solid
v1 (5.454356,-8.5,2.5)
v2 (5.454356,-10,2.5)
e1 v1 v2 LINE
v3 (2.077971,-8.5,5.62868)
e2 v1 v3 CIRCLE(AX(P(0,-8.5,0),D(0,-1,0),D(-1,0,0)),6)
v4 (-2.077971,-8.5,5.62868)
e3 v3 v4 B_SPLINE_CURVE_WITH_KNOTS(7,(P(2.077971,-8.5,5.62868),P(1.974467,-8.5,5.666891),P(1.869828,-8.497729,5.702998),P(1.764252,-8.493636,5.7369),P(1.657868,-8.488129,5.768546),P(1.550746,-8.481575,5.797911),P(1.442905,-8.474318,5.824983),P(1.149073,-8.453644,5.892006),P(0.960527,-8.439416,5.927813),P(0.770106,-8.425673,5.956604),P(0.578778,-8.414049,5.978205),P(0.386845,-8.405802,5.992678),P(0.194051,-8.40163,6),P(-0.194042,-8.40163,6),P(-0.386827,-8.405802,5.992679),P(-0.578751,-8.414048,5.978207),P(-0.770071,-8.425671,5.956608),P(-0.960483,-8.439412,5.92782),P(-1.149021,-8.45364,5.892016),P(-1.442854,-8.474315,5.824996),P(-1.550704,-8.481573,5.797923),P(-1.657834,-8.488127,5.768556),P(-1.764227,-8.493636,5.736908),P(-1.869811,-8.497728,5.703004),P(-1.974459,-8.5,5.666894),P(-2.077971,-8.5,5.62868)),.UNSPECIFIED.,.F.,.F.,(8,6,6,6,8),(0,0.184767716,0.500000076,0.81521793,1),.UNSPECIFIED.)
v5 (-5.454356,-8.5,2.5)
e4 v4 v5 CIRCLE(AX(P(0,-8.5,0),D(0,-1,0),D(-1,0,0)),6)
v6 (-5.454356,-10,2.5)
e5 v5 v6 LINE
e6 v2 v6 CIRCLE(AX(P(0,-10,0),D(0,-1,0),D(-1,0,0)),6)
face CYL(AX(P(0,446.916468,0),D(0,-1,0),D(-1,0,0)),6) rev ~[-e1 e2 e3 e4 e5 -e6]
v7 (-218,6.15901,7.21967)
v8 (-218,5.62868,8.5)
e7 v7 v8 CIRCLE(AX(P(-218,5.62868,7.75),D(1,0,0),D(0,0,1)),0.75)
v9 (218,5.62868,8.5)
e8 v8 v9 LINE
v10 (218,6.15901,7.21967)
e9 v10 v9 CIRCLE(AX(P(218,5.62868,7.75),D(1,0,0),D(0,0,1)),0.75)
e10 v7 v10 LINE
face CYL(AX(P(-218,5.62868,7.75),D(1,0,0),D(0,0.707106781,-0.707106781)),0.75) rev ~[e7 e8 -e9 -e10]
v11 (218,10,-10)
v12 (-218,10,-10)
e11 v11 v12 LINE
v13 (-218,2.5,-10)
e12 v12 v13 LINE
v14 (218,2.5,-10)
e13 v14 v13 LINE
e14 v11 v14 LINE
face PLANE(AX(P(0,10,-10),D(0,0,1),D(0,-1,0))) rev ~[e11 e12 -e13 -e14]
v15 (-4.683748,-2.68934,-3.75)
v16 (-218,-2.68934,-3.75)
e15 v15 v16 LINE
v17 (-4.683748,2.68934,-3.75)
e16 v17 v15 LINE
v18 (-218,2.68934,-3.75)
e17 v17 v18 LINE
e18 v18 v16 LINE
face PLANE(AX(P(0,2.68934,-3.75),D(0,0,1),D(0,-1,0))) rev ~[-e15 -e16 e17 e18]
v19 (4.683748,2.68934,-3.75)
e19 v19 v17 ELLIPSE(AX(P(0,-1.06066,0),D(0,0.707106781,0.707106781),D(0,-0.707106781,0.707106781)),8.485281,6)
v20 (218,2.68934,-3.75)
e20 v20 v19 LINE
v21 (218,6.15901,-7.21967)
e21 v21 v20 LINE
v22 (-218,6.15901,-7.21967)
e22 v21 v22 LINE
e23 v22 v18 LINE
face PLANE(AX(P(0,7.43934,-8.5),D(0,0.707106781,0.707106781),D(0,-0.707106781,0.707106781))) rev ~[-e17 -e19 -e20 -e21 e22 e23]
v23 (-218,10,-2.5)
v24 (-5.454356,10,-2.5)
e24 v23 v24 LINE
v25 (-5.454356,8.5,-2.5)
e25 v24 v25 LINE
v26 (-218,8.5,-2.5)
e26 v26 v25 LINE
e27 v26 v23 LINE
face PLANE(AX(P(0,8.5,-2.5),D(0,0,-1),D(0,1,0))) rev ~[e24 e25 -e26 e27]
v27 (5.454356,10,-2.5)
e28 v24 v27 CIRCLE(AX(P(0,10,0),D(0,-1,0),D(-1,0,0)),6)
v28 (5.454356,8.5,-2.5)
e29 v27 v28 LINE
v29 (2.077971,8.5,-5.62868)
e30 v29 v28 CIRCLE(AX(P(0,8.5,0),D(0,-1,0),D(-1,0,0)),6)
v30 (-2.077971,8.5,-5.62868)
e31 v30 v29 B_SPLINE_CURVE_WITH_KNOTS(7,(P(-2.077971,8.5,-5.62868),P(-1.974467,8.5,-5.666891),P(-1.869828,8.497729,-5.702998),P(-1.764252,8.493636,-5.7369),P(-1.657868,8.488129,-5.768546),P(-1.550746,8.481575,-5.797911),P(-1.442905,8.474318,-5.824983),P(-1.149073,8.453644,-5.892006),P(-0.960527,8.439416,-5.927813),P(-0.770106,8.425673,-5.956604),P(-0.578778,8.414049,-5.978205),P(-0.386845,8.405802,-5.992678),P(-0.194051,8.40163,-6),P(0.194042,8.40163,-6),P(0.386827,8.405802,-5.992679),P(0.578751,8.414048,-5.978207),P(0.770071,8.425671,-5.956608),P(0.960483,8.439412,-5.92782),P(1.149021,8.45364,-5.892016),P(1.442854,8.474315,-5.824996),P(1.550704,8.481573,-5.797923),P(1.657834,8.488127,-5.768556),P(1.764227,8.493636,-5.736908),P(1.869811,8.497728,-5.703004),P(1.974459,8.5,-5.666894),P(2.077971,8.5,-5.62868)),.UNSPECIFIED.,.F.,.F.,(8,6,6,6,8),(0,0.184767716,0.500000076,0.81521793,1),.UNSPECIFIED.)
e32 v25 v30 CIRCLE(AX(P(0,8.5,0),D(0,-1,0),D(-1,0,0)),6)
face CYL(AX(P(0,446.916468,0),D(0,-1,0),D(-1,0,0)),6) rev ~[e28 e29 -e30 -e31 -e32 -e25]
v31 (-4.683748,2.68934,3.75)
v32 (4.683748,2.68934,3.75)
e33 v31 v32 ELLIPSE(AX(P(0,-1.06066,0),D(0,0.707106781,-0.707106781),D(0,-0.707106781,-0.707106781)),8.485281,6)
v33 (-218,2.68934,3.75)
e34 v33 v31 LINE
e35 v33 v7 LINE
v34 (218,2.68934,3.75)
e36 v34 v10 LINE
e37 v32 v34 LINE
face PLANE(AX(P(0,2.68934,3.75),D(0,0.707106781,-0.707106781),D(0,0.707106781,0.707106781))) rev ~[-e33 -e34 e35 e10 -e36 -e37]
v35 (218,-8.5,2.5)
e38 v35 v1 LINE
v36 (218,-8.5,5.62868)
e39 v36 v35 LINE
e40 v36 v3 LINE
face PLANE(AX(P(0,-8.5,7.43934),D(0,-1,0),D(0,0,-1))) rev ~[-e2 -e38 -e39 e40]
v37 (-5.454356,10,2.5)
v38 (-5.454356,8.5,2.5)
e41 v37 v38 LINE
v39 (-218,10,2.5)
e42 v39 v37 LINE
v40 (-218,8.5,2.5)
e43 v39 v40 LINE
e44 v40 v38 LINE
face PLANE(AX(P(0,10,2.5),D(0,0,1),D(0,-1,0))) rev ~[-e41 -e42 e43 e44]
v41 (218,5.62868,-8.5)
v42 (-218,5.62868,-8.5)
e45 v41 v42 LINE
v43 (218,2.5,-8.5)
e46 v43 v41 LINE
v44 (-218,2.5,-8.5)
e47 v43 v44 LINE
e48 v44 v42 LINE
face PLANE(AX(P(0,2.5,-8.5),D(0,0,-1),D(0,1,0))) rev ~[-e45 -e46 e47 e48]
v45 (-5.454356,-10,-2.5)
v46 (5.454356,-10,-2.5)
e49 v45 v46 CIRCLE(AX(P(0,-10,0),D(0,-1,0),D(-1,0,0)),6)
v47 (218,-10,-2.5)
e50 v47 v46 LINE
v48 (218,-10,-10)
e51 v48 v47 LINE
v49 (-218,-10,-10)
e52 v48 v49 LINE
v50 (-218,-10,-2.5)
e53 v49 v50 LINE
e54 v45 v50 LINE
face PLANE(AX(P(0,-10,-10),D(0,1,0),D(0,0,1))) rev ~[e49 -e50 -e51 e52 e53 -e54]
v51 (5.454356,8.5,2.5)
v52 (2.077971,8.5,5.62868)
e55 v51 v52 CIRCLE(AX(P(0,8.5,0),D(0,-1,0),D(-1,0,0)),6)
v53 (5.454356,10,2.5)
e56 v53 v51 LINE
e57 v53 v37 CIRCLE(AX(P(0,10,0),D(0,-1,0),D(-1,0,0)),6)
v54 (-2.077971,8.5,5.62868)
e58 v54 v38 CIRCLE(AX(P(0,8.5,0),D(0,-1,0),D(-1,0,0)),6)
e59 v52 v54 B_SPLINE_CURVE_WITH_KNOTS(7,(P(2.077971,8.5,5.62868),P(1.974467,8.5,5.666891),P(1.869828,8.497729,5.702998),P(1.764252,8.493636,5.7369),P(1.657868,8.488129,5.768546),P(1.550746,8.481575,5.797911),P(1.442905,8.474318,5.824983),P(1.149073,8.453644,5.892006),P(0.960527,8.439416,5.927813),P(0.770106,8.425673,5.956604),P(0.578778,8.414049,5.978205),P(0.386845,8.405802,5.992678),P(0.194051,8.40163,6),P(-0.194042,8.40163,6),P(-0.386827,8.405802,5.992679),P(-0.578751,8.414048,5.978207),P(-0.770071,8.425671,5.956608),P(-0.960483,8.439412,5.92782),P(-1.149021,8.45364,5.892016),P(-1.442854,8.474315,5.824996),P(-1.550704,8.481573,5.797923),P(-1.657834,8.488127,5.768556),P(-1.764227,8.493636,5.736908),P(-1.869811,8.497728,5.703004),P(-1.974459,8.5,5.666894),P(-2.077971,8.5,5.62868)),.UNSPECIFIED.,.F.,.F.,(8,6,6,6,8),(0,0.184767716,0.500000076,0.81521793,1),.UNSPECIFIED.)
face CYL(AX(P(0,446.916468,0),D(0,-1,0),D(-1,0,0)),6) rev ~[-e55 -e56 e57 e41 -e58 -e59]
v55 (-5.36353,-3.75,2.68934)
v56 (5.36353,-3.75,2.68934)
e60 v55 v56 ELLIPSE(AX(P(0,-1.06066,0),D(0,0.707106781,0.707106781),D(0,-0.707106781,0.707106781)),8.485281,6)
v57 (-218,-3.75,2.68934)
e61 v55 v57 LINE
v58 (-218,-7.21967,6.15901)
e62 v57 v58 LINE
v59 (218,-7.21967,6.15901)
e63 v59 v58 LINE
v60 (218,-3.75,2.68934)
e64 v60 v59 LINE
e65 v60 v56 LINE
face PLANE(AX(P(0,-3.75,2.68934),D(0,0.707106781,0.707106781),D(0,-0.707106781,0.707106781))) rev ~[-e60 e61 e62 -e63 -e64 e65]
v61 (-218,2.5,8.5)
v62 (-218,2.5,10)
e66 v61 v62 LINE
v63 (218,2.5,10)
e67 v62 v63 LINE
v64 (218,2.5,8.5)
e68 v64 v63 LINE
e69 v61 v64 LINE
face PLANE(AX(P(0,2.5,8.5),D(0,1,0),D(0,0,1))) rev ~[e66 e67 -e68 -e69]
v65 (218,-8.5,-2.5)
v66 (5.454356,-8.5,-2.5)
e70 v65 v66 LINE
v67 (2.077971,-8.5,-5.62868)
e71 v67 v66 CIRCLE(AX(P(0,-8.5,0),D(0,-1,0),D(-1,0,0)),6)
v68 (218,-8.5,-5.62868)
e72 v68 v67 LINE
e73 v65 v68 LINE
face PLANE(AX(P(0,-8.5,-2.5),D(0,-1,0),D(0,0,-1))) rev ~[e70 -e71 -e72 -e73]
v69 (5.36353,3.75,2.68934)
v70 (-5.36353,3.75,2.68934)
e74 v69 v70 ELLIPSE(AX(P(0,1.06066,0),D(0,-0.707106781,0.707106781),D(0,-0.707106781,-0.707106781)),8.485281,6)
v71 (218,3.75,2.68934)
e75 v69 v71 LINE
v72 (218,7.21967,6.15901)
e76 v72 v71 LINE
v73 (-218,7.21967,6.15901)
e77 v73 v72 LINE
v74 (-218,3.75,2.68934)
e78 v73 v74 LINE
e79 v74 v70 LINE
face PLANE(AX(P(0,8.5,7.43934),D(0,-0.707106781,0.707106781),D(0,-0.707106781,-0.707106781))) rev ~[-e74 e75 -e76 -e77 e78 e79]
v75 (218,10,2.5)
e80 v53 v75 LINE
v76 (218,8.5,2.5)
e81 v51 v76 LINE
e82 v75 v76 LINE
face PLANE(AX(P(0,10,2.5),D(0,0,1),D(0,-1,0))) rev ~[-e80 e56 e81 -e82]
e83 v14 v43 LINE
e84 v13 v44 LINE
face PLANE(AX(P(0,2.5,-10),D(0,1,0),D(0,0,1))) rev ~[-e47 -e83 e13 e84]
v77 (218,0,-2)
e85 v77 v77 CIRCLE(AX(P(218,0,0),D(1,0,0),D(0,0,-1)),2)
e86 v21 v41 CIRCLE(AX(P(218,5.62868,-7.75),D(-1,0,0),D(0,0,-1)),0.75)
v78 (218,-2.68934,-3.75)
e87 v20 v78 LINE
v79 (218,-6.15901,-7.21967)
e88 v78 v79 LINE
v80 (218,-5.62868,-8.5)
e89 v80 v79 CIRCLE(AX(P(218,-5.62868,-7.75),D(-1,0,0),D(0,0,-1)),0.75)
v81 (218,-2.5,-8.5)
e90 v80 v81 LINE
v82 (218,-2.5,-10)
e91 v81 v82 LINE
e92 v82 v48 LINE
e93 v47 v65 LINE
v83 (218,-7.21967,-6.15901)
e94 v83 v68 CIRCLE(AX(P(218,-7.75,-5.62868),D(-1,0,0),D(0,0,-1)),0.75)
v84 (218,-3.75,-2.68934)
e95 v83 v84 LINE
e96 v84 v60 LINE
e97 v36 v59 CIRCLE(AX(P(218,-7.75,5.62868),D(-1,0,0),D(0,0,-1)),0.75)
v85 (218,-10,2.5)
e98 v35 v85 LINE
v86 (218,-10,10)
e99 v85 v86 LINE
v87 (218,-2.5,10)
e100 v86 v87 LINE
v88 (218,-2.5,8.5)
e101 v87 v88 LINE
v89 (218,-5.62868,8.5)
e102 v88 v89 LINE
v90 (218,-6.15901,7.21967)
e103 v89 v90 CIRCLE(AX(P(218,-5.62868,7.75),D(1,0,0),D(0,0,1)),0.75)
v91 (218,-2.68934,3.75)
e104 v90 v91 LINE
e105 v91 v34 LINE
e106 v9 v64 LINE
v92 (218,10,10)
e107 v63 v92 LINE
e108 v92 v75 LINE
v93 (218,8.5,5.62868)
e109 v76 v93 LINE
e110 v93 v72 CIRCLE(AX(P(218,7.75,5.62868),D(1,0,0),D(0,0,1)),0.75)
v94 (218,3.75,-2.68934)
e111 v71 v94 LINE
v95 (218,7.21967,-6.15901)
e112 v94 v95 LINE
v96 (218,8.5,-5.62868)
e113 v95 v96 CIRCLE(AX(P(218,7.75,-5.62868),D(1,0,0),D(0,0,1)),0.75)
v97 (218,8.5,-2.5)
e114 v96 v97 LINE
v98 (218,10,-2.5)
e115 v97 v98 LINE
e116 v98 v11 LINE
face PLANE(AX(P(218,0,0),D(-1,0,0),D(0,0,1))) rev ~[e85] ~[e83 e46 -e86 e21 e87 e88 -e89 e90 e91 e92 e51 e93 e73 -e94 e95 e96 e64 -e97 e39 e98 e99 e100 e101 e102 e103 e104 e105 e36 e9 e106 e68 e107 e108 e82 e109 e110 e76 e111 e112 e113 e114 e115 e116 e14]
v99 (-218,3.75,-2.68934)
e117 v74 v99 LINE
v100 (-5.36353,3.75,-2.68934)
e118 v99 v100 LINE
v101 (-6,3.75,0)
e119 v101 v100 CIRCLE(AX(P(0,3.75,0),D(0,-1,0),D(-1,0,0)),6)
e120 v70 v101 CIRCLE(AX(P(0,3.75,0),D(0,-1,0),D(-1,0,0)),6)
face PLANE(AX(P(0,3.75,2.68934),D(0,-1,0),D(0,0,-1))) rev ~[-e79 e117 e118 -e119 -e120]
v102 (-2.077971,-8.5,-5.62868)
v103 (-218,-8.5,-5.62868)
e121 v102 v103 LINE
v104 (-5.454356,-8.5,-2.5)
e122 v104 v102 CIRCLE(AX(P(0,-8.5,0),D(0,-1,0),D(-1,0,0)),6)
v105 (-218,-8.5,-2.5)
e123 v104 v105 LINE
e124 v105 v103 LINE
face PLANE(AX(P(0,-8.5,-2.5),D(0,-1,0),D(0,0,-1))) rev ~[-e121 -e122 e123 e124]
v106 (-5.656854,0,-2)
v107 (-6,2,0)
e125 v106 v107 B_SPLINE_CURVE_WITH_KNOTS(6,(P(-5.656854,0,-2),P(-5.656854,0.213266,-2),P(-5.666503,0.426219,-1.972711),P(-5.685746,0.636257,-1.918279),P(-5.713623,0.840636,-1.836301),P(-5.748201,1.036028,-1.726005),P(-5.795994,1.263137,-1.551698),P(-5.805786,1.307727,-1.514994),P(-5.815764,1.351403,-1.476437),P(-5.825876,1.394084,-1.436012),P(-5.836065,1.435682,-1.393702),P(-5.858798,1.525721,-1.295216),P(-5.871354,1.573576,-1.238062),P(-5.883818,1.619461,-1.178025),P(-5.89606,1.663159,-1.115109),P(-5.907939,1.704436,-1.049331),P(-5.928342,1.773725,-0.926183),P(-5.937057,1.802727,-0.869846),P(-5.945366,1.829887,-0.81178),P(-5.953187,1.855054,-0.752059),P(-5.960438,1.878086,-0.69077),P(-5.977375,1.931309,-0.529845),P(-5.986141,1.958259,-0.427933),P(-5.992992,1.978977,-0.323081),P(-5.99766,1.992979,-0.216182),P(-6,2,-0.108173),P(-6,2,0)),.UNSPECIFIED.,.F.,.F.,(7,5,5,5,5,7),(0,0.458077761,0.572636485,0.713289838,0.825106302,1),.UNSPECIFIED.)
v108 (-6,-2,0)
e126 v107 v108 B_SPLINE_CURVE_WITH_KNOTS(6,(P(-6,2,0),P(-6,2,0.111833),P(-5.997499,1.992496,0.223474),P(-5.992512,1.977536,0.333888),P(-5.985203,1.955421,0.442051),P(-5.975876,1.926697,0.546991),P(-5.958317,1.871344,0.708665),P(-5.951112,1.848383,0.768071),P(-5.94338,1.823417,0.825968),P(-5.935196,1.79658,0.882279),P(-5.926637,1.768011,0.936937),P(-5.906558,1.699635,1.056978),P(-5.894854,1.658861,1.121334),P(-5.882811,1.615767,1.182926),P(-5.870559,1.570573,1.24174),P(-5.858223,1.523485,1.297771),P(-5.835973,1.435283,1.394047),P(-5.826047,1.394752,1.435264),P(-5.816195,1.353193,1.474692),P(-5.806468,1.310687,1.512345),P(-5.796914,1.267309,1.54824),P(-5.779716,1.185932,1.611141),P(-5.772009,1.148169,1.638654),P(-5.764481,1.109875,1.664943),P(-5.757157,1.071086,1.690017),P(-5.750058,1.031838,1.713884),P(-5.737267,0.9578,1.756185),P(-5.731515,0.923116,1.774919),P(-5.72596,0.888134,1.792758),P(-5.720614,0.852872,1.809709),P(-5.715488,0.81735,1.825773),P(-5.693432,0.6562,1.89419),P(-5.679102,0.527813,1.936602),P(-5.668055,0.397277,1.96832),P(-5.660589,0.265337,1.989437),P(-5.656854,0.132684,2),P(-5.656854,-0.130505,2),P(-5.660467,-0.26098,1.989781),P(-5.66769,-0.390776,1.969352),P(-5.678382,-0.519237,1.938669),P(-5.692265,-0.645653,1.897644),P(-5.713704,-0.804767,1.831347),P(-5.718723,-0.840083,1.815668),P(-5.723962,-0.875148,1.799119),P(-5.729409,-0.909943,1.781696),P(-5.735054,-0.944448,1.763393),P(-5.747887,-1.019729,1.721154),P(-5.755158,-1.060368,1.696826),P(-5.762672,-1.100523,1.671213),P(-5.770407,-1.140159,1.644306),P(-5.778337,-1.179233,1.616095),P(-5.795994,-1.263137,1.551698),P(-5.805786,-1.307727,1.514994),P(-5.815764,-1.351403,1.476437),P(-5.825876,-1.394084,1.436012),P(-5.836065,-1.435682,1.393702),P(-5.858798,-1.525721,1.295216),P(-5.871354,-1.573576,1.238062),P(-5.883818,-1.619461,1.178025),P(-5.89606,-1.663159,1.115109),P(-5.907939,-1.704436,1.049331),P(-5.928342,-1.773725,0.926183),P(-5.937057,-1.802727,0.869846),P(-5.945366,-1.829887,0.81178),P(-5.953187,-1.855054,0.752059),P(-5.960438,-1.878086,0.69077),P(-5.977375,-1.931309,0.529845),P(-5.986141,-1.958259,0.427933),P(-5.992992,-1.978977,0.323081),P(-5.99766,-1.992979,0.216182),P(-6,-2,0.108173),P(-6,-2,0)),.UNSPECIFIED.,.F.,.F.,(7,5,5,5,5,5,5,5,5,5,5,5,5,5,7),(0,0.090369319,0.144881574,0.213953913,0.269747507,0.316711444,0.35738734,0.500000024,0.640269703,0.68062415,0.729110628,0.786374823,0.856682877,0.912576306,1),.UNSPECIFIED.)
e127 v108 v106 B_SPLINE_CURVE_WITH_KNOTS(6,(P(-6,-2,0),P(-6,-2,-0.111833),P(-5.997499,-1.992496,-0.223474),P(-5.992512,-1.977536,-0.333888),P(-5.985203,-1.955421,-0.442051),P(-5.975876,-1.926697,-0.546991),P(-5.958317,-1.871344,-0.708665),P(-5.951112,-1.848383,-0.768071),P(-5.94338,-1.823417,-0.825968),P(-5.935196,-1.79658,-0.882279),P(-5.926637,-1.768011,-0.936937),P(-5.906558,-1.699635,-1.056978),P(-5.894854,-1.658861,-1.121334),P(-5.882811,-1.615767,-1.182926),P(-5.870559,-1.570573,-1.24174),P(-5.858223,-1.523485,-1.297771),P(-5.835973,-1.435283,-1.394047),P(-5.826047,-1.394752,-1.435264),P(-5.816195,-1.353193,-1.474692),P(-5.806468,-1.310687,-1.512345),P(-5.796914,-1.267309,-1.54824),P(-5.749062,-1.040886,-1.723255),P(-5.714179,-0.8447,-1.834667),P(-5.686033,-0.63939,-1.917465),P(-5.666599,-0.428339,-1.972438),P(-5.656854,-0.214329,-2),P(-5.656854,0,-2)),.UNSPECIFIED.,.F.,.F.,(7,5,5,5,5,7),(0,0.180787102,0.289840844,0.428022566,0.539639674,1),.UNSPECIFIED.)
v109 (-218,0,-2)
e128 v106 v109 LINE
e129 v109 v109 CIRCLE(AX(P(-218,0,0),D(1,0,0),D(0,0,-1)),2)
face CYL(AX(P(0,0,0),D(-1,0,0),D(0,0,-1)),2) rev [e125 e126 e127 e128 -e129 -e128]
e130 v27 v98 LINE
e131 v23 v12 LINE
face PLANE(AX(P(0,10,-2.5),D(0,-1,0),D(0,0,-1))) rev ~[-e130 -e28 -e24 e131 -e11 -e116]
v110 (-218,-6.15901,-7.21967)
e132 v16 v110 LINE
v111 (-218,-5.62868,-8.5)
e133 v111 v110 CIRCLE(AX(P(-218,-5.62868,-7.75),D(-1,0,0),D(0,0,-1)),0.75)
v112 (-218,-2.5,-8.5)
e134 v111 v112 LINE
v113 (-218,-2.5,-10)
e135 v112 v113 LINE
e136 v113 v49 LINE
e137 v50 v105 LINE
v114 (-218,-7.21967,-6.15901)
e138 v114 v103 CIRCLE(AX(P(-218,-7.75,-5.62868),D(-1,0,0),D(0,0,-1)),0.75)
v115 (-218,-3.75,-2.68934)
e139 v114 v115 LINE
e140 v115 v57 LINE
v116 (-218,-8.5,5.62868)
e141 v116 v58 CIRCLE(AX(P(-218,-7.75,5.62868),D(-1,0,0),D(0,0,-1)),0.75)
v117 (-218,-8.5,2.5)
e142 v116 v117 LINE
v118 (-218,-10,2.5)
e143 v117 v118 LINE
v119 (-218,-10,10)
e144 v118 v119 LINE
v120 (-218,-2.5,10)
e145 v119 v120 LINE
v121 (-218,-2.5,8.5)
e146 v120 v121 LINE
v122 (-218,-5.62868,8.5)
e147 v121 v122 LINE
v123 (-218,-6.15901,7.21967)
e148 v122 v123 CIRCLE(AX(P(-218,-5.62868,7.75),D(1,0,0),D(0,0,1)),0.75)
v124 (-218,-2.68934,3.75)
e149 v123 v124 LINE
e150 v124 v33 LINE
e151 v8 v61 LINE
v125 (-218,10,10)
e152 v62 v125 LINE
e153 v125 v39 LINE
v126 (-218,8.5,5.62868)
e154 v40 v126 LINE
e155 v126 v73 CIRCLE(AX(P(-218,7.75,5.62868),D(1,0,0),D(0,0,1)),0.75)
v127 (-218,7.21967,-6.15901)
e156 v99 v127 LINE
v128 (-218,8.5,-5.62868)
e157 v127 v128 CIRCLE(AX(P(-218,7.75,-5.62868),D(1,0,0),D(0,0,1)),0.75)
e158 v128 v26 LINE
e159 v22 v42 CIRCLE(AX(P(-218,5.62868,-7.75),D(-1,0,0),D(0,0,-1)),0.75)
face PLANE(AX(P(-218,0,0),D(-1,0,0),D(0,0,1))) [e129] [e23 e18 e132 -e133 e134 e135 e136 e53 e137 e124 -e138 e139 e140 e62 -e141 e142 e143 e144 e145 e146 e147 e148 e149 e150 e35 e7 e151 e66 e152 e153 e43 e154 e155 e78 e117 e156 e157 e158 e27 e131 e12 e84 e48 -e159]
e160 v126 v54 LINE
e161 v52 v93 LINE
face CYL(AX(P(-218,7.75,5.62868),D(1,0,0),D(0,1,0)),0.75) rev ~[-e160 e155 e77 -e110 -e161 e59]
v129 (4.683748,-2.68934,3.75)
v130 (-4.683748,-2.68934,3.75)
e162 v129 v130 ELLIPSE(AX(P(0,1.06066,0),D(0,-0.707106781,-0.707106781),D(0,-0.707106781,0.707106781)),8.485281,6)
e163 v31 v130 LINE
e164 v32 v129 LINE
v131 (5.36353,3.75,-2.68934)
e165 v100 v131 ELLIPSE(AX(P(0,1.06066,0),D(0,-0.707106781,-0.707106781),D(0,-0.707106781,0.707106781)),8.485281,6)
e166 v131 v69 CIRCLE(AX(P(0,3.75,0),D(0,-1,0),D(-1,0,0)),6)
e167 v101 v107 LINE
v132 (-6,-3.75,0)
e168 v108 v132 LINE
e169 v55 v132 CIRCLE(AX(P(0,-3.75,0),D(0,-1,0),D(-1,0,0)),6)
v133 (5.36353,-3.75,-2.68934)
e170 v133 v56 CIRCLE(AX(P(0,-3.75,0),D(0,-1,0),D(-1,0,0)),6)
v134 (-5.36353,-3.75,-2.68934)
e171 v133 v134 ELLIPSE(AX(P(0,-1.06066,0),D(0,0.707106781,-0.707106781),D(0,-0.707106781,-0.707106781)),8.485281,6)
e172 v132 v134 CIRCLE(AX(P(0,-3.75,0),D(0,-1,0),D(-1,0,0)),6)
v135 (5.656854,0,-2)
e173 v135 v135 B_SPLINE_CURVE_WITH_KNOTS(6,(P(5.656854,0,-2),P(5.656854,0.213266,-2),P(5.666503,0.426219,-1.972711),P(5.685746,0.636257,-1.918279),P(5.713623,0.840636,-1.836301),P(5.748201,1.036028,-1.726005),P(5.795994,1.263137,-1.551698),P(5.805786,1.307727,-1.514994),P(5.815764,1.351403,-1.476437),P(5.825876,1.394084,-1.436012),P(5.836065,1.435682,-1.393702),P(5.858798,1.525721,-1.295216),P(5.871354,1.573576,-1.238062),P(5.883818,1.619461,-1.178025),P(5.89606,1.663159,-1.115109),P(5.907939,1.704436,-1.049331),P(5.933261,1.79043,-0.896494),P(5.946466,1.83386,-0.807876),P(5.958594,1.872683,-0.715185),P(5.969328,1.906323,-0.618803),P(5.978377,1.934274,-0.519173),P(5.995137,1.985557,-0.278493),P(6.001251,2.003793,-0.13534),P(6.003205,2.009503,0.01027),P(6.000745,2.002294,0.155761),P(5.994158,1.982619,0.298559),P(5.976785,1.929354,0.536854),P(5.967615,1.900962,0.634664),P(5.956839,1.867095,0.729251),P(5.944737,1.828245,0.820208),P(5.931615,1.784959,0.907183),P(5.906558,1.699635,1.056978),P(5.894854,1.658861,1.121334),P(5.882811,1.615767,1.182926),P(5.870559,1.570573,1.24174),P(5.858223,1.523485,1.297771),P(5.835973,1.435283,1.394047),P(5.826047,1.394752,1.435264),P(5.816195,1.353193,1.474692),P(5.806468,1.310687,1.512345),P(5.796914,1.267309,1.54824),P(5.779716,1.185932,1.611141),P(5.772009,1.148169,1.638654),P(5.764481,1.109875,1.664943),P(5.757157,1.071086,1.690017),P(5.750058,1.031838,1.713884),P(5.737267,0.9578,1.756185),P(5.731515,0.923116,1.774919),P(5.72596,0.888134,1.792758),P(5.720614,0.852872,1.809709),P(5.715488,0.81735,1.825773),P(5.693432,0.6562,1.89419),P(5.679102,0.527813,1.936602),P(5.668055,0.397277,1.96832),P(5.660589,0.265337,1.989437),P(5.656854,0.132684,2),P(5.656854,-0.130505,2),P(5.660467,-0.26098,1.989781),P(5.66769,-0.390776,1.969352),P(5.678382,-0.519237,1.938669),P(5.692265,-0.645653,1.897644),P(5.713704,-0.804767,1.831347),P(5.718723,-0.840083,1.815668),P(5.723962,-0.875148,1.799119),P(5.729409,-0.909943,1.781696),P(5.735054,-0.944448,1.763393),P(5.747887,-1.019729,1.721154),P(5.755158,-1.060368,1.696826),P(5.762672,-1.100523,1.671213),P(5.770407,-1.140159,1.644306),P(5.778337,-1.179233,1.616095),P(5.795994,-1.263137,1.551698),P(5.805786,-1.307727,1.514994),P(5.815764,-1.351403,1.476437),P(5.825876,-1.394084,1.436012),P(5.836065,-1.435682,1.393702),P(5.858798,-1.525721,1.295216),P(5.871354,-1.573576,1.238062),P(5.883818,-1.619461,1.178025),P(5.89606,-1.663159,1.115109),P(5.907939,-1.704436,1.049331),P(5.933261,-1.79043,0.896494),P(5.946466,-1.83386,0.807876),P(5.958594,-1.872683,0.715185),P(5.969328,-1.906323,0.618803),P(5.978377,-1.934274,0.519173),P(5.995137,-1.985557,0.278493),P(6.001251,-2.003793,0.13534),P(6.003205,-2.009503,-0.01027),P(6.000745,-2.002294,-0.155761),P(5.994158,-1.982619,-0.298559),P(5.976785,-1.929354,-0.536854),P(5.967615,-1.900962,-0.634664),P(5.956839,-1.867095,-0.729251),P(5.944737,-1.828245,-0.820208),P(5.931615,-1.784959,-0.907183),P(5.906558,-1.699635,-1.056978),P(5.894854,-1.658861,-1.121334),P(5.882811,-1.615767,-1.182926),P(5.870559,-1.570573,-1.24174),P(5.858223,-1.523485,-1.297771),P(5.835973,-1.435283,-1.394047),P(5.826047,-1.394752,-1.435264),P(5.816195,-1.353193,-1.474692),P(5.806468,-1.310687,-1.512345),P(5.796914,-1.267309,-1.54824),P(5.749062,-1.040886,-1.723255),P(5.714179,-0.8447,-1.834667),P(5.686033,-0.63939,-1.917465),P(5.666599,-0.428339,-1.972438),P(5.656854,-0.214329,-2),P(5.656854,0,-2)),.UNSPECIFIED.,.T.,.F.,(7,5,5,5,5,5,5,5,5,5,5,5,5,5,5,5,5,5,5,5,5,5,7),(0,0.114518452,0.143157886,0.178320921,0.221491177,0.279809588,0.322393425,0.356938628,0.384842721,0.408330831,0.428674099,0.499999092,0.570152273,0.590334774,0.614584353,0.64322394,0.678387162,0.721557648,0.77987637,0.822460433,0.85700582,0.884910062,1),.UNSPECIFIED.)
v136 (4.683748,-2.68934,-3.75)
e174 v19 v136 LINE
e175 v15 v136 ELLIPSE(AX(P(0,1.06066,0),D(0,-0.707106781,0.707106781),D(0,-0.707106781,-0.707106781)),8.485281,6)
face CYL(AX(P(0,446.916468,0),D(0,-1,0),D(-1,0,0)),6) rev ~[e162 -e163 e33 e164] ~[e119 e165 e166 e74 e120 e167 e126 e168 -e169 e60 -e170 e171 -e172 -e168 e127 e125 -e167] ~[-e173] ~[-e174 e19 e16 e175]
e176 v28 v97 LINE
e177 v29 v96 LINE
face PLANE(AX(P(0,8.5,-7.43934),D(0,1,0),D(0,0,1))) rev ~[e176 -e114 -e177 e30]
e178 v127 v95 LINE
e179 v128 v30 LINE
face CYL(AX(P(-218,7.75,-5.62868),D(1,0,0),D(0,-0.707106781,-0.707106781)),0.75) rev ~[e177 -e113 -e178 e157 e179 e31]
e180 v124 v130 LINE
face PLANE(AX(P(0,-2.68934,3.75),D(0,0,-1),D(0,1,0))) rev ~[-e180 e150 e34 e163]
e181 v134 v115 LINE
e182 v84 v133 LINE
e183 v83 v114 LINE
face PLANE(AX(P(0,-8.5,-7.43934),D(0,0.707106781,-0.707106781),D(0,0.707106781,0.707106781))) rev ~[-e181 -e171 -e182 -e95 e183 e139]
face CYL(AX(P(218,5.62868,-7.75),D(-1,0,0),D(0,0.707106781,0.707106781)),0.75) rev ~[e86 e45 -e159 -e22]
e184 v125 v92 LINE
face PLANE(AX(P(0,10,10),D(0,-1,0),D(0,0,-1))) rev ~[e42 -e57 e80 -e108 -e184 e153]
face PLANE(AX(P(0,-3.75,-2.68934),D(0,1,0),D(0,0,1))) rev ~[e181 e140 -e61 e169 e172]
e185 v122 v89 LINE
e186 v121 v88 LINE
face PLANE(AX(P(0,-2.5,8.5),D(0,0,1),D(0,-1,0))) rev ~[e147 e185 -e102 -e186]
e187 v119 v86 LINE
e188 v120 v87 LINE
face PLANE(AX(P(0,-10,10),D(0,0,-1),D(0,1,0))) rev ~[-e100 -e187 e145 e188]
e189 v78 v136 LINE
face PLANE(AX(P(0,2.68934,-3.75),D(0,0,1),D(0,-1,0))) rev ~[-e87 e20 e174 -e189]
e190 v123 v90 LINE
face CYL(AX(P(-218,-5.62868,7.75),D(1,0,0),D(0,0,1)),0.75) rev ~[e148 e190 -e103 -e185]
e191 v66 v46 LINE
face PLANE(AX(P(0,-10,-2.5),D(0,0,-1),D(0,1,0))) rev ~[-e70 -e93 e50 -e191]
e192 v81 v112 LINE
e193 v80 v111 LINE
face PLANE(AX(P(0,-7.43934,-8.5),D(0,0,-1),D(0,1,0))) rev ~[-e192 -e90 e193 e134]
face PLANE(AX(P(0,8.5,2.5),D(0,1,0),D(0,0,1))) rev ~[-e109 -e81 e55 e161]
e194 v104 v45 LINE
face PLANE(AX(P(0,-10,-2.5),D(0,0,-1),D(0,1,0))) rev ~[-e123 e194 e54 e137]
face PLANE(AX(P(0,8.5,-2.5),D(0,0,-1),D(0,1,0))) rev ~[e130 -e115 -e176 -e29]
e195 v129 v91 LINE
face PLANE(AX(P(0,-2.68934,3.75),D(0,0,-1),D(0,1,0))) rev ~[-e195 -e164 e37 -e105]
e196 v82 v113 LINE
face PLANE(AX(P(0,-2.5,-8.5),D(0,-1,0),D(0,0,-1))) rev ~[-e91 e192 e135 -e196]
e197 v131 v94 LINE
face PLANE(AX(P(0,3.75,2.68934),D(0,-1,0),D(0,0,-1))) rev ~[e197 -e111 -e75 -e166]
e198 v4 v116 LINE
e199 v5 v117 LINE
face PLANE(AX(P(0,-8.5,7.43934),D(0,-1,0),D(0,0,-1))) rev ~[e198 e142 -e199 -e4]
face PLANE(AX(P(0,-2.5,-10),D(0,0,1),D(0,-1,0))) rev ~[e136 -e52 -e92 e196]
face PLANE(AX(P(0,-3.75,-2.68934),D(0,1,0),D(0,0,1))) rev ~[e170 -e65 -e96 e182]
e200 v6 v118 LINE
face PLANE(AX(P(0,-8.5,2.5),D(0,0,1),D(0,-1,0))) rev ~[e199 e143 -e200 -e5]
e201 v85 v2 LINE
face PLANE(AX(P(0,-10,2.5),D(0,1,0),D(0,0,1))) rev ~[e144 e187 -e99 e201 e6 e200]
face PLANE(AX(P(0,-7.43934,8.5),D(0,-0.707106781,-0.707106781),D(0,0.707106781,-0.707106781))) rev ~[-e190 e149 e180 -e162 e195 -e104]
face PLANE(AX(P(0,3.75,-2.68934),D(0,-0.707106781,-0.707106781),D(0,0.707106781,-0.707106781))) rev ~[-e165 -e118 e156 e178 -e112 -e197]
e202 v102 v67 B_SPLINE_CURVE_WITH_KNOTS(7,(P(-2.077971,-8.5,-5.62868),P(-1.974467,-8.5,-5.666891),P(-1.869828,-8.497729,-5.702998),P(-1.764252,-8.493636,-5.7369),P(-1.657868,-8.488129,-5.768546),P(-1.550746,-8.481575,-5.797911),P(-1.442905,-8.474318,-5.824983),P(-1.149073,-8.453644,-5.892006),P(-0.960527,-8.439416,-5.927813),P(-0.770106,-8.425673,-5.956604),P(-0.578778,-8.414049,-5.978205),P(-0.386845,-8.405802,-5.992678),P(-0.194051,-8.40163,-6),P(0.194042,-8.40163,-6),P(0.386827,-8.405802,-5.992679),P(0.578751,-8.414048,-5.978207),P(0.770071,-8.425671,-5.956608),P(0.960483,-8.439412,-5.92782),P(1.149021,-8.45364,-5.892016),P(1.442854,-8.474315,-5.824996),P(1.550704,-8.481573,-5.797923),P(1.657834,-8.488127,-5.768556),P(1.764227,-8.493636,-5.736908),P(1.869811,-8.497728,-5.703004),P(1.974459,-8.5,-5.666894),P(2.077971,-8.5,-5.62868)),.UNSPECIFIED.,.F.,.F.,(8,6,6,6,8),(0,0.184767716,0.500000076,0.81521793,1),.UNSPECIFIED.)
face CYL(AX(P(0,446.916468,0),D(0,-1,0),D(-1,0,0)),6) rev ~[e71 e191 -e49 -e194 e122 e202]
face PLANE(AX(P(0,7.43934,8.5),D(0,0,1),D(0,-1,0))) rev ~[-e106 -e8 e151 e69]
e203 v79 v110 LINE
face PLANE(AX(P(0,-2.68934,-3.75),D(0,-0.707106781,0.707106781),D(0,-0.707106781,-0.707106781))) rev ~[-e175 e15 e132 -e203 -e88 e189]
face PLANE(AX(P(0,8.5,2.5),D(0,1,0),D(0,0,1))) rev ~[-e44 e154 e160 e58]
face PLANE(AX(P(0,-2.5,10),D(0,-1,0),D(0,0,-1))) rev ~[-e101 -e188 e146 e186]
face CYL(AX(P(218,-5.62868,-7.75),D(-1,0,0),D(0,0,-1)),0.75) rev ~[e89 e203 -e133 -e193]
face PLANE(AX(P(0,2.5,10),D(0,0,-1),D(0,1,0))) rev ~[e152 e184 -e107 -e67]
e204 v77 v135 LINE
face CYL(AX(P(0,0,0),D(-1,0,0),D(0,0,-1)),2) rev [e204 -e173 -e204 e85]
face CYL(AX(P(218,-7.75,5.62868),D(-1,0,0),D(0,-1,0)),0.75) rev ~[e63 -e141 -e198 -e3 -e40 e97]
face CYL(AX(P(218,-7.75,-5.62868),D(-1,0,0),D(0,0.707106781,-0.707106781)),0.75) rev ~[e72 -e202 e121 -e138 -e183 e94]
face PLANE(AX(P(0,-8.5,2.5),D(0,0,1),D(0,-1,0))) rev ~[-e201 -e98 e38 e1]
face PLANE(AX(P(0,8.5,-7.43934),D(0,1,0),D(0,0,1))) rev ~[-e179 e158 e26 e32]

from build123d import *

# Parameters (mm, degrees)
ESQUISSE1_R                     = 2
BOSS_EXTRU_1_DEPTH              = 218
CONG_1_R                        = 0.75
DIAM_TRE_DU_PER_AGE_12_0_12_2_D = 12


with BuildPart() as part:
    # Esquisse1 → Boss.-Extru.1 (new, symmetric)
    with BuildSketch(Plane(origin=(0, 0, 0), x_dir=(0, 0, -1), z_dir=(1, 0, 0))):
        Polygon((2.5, 10), (10, 10), (10, 2.5), (8.5, 2.5), (8.5, 7.439339828), (3.75, 2.689339828), (3.75, -2.689339828), (8.5, -7.439339828), (8.5, -2.5), (10, -2.5), (10, -10), (2.5, -10), (2.5, -8.5), (7.439339828, -8.5), (2.689339828, -3.75), (-2.689339828, -3.75), (-7.439339828, -8.5), (-2.5, -8.5), (-2.5, -10), (-10, -10), (-10, -2.5), (-8.5, -2.5), (-8.5, -7.439339828), (-3.75, -2.689339828), (-3.75, 2.689339828), (-8.5, 7.439339828), (-8.5, 2.5), (-10, 2.5), (-10, 10), (-2.5, 10), (-2.5, 8.5), (-7.439339828, 8.5), (-2.689339828, 3.75), (2.689339828, 3.75), (7.439339828, 8.5), (2.5, 8.5), align=None)
        Circle(ESQUISSE1_R, mode=Mode.SUBTRACT)
    extrude(amount=BOSS_EXTRU_1_DEPTH, both=True)

    # Congé1
    cong_1_edges = [part.edges().sort_by_distance(p)[0] for p in [
        (0, 7.439339828, -8.5),
        (0, -7.439339828, -8.5),
        (0, -8.5, -7.439339828),
        (0, -8.5, 7.439339828),
        (0, -7.439339828, 8.5),
        (0, 7.439339828, 8.5),
        (0, 8.5, 7.439339828),
        (0, 8.5, -7.439339828),
    ]]
    fillet(cong_1_edges, radius=CONG_1_R)

    # Diamètre du perçage Ø12.0 (12)2 (through all)
    with Locations(Plane(origin=(0, 10, 0), x_dir=(1, 0, 0), z_dir=(0, 1, 0))):
        with Locations((0, 0)):
            Hole(DIAM_TRE_DU_PER_AGE_12_0_12_2_D / 2)


solid = part.part
